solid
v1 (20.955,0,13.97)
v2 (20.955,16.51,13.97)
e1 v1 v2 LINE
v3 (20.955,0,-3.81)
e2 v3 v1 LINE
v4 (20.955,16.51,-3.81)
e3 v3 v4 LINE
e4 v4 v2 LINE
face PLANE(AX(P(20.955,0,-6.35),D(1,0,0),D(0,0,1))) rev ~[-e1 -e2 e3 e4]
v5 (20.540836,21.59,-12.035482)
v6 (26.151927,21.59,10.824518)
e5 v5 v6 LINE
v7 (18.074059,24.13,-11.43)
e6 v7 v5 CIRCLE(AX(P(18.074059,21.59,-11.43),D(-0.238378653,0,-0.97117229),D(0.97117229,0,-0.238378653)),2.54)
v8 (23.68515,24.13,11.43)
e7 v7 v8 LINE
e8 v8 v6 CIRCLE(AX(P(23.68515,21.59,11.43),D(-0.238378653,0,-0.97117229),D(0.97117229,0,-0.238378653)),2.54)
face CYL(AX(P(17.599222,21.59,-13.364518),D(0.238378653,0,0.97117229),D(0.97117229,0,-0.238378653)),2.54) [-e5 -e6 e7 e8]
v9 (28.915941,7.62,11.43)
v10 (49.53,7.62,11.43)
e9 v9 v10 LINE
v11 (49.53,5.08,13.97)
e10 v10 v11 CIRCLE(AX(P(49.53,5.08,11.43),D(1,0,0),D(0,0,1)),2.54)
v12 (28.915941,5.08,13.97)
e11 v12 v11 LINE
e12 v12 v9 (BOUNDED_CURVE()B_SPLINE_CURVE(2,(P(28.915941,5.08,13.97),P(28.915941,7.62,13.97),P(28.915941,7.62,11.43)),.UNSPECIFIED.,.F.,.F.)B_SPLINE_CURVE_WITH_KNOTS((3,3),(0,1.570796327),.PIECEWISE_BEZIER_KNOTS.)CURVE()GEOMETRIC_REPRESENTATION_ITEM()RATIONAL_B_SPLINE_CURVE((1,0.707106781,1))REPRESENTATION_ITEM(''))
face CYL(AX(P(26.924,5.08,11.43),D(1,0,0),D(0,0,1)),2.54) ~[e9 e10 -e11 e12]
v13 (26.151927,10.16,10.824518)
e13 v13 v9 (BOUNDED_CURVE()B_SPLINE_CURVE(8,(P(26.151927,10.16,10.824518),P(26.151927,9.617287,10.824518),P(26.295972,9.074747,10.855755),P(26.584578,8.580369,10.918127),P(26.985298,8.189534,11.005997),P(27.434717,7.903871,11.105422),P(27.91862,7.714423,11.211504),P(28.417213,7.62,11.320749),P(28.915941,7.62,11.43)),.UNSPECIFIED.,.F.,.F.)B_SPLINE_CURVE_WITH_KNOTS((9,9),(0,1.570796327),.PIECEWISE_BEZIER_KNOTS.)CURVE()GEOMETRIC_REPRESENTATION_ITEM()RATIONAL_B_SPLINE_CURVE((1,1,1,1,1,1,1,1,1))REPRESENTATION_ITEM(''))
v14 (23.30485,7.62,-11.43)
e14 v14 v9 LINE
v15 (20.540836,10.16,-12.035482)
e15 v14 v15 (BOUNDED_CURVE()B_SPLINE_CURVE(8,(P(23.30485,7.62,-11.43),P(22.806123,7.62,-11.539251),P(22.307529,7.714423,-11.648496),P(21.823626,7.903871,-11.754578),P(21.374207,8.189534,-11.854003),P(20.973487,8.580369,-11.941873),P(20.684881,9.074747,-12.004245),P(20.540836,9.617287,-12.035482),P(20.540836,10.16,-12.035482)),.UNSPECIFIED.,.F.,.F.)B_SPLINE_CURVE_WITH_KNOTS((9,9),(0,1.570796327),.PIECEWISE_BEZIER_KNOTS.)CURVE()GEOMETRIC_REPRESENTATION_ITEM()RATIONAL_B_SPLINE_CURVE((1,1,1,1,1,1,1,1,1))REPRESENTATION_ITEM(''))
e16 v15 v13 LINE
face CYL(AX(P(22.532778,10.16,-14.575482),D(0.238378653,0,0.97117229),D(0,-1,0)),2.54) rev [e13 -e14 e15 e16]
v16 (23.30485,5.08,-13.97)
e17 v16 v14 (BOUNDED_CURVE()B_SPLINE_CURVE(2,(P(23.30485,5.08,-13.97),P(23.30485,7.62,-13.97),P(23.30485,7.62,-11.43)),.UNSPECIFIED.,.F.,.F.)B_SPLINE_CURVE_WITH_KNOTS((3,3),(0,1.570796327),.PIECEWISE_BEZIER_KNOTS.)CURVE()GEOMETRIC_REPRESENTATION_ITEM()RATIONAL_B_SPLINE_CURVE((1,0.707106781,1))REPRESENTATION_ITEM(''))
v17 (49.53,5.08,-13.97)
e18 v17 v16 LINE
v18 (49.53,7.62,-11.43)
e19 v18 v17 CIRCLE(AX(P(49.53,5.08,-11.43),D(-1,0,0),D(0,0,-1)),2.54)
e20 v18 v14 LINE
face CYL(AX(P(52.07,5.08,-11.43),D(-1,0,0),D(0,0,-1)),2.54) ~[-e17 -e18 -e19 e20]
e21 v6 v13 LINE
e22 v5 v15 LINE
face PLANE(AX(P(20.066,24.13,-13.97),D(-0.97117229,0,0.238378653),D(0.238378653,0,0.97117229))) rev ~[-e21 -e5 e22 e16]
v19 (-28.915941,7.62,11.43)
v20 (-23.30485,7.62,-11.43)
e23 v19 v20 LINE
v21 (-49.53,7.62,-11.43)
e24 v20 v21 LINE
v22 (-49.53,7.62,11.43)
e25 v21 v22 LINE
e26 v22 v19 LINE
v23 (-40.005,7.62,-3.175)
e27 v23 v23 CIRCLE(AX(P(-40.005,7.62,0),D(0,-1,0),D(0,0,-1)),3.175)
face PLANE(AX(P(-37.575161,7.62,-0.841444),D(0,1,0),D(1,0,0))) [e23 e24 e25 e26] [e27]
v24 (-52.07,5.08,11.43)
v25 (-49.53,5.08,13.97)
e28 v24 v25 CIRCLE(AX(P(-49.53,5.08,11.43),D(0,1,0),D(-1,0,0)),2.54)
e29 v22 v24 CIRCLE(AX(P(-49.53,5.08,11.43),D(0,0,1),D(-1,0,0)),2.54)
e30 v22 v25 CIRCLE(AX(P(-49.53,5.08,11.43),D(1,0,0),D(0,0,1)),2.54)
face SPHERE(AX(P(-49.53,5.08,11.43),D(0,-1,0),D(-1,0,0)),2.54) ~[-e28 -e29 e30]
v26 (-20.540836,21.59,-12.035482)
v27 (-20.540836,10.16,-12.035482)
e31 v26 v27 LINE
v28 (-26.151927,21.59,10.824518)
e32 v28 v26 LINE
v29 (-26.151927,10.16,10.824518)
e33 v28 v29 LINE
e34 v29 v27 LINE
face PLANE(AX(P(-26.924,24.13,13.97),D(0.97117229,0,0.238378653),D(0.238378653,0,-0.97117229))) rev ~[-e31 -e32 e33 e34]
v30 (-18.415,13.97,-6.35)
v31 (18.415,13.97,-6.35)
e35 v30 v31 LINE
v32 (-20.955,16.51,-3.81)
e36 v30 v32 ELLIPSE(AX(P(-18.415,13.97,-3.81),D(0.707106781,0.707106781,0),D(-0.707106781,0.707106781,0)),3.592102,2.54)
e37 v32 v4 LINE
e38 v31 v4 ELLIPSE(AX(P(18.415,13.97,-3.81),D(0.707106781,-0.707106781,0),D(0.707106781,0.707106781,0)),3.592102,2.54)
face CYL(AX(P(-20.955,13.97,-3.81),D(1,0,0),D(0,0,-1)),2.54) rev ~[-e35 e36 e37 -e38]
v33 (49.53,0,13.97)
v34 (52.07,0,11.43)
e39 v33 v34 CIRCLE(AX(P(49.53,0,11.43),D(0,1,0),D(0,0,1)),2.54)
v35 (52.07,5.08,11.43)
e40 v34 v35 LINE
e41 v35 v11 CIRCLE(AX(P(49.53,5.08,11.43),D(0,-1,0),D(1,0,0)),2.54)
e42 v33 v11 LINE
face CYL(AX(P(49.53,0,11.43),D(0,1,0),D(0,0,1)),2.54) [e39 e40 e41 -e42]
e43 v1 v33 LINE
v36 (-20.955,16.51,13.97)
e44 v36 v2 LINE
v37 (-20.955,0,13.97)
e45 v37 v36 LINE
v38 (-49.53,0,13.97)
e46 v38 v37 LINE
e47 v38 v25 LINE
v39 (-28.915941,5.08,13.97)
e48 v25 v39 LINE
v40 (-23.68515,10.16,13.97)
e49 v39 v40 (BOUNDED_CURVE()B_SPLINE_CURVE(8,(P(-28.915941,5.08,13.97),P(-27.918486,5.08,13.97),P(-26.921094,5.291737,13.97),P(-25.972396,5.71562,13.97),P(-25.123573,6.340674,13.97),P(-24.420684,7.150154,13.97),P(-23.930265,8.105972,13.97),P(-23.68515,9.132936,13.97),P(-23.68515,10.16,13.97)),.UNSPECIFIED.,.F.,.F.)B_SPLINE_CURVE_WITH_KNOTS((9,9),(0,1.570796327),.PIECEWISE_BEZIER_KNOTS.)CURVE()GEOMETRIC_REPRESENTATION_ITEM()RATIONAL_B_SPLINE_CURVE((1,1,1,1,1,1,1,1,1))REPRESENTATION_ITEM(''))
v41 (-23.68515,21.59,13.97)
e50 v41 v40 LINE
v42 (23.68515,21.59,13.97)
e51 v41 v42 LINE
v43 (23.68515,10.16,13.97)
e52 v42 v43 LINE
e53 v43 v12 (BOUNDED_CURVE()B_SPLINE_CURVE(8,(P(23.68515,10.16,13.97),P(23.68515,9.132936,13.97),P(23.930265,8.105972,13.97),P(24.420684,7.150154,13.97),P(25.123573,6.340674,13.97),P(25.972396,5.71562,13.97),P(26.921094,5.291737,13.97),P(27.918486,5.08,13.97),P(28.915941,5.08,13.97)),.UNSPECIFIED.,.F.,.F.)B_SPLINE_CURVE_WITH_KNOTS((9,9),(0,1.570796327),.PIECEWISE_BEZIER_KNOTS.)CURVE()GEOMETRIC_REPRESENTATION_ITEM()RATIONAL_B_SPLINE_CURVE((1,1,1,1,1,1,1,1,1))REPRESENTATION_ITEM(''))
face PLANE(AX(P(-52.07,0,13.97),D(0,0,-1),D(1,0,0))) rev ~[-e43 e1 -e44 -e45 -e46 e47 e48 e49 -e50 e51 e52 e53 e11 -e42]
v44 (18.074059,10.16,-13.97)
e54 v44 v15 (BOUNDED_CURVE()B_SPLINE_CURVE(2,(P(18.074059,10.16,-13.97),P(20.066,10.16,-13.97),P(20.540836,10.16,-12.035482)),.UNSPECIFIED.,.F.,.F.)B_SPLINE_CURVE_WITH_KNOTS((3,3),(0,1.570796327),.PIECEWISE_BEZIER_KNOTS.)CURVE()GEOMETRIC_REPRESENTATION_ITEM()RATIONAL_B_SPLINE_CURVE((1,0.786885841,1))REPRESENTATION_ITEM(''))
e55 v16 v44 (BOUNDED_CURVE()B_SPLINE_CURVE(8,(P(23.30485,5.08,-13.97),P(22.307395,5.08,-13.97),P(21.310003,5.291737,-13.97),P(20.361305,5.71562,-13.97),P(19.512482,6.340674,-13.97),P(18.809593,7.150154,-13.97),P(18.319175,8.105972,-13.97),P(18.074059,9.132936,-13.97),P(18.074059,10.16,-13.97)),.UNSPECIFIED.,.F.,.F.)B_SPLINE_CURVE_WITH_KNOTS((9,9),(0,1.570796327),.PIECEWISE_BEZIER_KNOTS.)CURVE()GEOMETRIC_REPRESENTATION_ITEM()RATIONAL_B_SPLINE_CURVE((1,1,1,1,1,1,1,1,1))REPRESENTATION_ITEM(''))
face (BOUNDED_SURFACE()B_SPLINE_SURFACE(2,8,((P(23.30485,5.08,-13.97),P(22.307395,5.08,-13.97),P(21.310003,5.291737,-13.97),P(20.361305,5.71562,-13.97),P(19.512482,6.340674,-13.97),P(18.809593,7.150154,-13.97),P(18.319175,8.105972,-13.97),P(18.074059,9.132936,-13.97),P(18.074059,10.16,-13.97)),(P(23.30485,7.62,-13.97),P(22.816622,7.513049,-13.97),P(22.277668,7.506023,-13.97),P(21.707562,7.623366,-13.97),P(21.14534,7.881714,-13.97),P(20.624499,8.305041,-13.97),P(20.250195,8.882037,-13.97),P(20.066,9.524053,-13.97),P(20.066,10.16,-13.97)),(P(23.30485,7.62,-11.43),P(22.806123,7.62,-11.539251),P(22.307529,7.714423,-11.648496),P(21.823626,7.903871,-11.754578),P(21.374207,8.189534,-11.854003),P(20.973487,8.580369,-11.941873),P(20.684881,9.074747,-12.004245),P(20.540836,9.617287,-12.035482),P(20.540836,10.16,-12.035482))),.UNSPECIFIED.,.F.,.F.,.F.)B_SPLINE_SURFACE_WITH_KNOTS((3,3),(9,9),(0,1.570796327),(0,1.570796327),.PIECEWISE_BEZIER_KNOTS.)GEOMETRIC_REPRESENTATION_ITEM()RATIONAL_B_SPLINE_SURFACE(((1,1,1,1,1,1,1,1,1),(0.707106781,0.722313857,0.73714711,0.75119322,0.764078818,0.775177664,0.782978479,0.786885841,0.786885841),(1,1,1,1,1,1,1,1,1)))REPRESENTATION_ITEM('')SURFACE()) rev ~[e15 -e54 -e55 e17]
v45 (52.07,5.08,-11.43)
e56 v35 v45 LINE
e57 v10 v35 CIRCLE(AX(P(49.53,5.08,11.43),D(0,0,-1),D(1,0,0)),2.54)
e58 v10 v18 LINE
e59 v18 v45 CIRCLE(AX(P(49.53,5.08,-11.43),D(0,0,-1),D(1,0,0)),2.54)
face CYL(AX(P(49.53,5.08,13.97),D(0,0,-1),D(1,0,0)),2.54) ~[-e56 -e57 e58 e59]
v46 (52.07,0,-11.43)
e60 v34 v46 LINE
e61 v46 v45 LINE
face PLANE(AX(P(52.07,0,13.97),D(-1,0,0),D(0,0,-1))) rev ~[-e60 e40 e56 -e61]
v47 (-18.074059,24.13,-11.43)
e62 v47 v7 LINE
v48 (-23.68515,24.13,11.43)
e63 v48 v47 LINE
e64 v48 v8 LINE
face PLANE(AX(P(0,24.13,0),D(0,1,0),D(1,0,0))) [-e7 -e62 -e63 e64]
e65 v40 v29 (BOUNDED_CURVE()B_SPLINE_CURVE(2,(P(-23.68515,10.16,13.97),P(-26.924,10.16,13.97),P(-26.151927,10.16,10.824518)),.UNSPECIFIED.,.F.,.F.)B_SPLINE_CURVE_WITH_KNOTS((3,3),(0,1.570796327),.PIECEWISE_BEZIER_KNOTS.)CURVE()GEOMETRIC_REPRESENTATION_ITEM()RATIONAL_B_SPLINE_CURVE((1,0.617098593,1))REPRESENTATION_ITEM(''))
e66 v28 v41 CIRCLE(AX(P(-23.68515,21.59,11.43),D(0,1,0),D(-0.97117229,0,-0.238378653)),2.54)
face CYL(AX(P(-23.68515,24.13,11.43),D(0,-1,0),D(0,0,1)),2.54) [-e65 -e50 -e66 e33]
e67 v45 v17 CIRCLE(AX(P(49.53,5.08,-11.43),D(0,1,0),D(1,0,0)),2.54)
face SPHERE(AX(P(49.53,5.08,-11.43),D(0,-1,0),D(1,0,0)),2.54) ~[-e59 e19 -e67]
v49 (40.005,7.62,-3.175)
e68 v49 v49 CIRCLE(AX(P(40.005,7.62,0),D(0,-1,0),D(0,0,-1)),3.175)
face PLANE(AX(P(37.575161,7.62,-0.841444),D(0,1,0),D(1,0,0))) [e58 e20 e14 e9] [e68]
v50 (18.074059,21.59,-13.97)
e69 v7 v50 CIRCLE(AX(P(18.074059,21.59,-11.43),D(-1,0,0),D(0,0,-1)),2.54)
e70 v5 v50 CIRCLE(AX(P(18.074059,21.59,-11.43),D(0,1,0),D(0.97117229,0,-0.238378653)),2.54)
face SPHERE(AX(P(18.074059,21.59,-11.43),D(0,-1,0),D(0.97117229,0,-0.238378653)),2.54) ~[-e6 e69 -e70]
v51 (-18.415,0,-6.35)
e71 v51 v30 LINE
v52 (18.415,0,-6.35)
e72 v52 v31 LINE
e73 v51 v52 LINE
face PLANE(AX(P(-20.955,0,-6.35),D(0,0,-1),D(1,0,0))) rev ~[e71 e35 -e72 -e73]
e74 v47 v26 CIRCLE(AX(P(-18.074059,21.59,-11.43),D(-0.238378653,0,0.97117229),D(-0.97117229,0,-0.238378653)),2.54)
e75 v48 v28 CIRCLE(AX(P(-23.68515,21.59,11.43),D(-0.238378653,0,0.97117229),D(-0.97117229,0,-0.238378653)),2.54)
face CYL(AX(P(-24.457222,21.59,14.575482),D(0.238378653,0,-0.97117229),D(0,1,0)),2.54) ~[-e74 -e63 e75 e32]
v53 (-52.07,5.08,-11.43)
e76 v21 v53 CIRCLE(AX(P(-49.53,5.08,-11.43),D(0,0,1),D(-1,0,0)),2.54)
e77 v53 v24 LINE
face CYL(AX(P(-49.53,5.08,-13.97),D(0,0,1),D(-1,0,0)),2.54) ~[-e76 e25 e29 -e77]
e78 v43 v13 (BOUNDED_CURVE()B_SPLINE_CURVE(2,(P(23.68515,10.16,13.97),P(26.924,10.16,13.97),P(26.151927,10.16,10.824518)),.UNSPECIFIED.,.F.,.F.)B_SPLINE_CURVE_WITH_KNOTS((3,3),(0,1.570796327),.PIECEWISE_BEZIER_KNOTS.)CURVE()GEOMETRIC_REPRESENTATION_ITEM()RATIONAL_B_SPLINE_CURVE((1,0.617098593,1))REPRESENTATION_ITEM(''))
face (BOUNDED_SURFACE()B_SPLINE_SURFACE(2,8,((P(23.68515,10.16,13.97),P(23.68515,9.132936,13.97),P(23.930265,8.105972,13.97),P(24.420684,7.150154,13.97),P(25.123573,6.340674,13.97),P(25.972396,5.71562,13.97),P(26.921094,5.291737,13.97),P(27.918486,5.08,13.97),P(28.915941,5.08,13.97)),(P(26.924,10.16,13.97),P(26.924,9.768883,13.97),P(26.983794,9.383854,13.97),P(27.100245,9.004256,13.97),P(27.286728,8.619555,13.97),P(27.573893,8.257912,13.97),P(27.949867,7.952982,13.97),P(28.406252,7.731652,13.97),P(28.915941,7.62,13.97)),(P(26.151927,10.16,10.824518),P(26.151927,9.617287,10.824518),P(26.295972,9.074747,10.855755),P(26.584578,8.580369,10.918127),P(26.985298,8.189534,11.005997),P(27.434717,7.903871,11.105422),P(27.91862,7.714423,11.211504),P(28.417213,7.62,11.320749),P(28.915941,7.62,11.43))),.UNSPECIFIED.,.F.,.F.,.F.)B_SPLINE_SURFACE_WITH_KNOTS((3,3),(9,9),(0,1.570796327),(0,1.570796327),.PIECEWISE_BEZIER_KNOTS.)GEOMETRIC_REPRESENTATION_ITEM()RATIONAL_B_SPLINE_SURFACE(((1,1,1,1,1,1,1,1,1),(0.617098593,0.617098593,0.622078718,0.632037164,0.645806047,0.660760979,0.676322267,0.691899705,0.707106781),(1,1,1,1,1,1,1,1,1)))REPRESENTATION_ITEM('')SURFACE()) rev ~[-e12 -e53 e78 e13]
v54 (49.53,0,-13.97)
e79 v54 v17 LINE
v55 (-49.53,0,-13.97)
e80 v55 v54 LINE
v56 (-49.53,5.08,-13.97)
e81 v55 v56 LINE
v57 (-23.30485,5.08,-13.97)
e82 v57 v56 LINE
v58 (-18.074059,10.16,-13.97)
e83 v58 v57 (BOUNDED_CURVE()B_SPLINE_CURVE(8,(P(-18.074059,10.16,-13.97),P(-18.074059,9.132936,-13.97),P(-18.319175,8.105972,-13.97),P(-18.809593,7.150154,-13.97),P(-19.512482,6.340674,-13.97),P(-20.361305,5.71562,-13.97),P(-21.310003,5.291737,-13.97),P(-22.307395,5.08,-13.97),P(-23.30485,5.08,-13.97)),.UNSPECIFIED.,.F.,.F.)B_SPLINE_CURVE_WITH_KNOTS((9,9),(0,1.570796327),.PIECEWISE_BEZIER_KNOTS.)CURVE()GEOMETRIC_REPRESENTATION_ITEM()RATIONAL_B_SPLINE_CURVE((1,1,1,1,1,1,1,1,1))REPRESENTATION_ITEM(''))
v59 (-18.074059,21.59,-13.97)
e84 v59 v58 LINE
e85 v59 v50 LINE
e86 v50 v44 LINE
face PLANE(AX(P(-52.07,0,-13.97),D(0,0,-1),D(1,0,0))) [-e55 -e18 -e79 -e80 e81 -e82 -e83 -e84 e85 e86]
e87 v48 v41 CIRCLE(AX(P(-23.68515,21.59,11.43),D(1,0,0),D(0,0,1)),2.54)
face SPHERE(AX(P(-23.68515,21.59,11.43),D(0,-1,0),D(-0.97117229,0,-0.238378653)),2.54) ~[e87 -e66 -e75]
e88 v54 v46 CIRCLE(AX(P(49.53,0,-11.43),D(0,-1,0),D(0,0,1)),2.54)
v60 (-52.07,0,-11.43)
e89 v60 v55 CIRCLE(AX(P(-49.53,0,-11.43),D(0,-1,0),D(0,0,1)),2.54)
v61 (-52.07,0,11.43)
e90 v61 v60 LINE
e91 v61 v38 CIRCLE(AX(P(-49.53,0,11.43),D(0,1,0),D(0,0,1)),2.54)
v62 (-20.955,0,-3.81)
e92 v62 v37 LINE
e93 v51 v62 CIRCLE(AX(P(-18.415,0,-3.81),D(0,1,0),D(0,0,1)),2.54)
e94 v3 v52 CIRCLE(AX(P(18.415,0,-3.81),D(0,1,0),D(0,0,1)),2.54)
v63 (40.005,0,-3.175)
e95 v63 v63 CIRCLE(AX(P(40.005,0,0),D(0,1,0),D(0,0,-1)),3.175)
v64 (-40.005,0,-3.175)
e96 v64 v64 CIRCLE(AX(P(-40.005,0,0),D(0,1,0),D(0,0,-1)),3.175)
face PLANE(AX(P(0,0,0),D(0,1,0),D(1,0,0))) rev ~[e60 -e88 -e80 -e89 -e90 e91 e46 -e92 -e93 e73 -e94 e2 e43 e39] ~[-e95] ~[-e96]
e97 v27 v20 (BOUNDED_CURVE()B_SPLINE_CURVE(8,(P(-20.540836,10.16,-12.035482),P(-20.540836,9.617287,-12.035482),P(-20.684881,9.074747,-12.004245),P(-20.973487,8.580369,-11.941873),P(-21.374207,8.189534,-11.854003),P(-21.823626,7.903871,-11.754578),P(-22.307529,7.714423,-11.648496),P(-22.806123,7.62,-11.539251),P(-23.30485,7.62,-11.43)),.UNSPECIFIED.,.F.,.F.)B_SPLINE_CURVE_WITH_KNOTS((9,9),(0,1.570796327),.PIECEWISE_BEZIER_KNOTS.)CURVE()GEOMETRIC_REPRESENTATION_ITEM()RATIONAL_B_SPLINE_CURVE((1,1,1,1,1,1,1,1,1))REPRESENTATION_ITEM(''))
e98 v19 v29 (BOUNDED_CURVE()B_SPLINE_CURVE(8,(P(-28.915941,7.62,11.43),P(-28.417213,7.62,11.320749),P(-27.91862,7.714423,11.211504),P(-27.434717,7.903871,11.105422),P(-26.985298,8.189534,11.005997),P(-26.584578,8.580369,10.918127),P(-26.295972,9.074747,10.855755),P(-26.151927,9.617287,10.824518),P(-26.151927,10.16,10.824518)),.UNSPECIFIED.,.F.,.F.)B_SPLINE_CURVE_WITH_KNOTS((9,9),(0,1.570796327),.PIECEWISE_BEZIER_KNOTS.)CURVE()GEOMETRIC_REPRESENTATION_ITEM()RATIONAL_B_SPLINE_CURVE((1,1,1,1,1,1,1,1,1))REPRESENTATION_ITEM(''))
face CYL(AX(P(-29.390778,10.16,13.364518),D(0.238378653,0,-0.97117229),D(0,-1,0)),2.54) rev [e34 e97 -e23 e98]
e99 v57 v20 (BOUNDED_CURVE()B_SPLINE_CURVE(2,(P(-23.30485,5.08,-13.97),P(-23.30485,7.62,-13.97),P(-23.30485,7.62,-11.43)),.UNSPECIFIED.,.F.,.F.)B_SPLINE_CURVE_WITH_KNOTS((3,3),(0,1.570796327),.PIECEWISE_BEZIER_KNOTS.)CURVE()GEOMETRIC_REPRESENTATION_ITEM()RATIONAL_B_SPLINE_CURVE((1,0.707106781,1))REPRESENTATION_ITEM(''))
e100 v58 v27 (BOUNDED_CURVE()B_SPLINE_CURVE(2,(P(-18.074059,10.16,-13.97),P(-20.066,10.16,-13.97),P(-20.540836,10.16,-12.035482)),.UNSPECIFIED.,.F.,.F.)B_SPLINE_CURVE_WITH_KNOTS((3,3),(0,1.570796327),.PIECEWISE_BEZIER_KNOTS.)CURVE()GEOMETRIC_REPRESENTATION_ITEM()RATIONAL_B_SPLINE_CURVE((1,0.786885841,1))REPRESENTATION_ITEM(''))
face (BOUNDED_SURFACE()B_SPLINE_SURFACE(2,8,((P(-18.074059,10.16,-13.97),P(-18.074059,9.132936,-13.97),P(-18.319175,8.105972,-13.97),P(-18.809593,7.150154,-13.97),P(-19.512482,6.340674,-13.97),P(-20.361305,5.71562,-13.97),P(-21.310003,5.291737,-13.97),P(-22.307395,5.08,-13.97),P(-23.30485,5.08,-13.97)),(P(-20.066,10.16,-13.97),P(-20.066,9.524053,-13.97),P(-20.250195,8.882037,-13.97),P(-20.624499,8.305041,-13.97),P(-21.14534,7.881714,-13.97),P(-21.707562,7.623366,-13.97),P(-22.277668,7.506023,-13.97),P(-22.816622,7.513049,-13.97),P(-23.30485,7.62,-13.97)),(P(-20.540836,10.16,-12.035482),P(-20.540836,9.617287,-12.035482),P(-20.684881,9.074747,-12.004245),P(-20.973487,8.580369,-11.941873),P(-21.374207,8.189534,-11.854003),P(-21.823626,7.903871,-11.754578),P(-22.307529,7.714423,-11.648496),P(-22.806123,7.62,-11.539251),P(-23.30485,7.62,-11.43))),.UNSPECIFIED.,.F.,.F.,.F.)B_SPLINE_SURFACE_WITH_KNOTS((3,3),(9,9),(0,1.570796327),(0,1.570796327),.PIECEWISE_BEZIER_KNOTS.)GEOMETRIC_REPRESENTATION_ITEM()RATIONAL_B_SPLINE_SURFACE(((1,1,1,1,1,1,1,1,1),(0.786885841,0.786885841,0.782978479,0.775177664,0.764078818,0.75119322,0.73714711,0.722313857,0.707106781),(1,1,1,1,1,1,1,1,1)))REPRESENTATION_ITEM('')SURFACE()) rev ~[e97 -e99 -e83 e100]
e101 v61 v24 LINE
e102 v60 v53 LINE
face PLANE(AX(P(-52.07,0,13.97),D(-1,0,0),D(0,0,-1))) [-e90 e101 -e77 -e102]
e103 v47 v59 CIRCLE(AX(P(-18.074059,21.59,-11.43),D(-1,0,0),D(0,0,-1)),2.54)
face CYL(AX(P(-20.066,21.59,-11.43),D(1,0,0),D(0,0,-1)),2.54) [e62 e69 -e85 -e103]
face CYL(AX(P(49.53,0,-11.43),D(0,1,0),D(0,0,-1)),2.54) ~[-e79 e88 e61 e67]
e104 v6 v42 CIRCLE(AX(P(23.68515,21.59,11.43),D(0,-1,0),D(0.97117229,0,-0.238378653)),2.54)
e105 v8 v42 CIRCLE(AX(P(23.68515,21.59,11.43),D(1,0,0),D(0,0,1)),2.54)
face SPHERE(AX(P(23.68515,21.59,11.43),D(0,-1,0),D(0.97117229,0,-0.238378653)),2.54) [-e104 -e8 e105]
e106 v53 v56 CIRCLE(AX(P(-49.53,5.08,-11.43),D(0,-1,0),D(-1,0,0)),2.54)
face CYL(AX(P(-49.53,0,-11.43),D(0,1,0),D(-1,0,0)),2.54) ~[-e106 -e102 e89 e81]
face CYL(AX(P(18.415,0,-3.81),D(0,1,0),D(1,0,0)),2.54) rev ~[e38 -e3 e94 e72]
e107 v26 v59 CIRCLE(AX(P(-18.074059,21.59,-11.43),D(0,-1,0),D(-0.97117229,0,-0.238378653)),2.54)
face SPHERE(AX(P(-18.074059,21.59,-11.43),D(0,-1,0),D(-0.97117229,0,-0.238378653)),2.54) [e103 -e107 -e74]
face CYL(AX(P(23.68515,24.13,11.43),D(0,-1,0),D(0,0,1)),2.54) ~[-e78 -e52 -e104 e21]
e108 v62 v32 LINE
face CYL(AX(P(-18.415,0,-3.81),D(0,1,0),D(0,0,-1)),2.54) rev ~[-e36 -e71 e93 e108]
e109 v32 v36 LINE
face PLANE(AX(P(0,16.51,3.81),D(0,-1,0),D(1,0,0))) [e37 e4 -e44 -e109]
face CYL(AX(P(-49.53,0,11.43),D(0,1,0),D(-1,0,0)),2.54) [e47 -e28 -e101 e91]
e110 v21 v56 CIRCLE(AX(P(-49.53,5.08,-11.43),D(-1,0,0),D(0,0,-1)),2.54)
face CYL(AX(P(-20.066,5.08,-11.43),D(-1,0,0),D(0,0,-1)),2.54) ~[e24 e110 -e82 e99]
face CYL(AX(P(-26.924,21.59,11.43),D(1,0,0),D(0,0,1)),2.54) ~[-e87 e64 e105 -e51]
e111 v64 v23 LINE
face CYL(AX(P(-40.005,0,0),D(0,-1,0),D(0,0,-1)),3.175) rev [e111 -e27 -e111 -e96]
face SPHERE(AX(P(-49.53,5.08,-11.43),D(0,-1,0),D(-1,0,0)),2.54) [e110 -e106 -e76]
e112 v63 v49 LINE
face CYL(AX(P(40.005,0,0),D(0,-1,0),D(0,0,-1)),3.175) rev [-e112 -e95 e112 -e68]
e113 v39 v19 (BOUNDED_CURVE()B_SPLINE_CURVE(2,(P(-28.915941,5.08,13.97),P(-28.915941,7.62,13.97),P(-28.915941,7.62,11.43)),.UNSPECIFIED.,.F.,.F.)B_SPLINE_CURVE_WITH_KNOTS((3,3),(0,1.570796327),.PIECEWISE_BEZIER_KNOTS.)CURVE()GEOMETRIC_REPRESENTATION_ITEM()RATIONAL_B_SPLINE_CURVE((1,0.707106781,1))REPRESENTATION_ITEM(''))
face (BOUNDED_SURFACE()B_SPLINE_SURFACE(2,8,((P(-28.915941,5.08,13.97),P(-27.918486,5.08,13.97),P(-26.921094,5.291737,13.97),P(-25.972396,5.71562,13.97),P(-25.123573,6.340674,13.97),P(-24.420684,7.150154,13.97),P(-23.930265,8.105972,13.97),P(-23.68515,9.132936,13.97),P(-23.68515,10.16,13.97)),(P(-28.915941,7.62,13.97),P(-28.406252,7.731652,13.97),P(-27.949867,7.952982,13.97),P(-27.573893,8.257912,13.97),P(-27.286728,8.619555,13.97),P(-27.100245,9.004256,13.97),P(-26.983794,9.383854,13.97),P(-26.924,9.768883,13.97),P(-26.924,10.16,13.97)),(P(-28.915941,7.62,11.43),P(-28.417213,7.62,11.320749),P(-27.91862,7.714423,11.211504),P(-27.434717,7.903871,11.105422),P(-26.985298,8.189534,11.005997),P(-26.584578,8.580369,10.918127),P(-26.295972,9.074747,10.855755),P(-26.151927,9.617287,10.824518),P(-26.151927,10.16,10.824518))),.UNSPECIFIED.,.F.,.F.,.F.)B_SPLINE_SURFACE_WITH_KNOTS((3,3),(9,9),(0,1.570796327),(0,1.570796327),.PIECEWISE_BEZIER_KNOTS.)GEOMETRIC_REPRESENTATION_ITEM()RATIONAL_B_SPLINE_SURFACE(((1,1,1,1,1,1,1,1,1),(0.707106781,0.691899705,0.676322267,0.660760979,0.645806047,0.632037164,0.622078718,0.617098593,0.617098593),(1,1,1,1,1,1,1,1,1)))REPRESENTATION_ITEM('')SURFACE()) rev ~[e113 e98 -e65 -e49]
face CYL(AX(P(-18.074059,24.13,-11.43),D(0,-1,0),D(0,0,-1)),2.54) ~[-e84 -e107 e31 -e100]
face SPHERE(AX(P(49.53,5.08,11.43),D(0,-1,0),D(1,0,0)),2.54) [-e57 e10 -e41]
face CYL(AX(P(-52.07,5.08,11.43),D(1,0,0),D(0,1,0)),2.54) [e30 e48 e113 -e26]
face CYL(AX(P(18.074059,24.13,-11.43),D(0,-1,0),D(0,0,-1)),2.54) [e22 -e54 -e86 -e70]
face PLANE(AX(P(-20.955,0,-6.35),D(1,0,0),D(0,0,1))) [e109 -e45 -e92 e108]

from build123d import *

# Parameters (mm, degrees)
SKETCH1_W           = 104.14
SKETCH1_H           = 27.94
SKETCH1_R           = 3.175
BOSS_EXTRUDE1_DEPTH = 24.13
SKETCH2_W           = 41.91
SKETCH2_H           = 20.32
CUT_EXTRUDE1_DEPTH  = 16.51
CUT_EXTRUDE2_DEPTH  = 16.51
FILLET1_R           = 2.54


with BuildPart() as part:
    # Sketch1 → Boss-Extrude1 (new body)
    with BuildSketch(Plane(origin=(0, 0, 0), x_dir=(1, 0, 0), z_dir=(0, 1, 0))):
        Rectangle(SKETCH1_W, SKETCH1_H)
        with Locations(Location((40.005, 0, 0), (0, 0, 90))):
            Circle(SKETCH1_R, mode=Mode.SUBTRACT)
        with Locations(Location((-40.005, 0, 0), (0, 0, 90))):
            Circle(SKETCH1_R, mode=Mode.SUBTRACT)
    extrude(amount=BOSS_EXTRUDE1_DEPTH)

    # Sketch2 → Cut-Extrude1 (cut)
    with BuildSketch(Plane.XZ):
        with Locations((0, 3.81)):
            Rectangle(SKETCH2_W, SKETCH2_H)
    extrude(amount=-CUT_EXTRUDE1_DEPTH, mode=Mode.SUBTRACT)

    # Sketch4 → Cut-Extrude2 (cut)
    with BuildSketch(Plane(origin=(0, 24.13, 0), x_dir=(1, 0, 0), z_dir=(0, 1, 0))):
        Polygon((-52.07, -13.97), (-26.924, -13.97), (-20.066, 13.97), (-52.07, 13.97), align=None)
        Polygon((52.07, 13.97), (20.066, 13.97), (26.924, -13.97), (52.07, -13.97), align=None)
    extrude(amount=-CUT_EXTRUDE2_DEPTH, mode=Mode.SUBTRACT)

    # Fillet1
    fillet1_edges = [part.edges().sort_by_distance(p)[0] for p in [
        (-20.955, 8.255, -6.35),
        (0, 16.51, -6.35),
        (20.955, 8.255, -6.35),
        (52.07, 3.81, 13.97),
        (0, 24.13, 13.97),
        (-52.07, 3.81, 13.97),
        (-52.07, 3.81, -13.97),
        (0, 24.13, -13.97),
        (52.07, 3.81, -13.97),
        (-52.07, 7.62, 0),
        (-36.068, 7.62, -13.97),
        (-23.495, 7.62, 0),
        (-20.066, 15.875, -13.97),
        (-39.497, 7.62, 13.97),
        (-26.924, 15.875, 13.97),
        (-23.495, 24.13, 0),
        (52.07, 7.62, 0),
        (39.497, 7.62, 13.97),
        (23.495, 7.62, 0),
        (26.924, 15.875, 13.97),
        (36.068, 7.62, -13.97),
        (20.066, 15.875, -13.97),
        (23.495, 24.13, 0),
    ]]
    fillet(fillet1_edges, radius=FILLET1_R)


solid = part.part
